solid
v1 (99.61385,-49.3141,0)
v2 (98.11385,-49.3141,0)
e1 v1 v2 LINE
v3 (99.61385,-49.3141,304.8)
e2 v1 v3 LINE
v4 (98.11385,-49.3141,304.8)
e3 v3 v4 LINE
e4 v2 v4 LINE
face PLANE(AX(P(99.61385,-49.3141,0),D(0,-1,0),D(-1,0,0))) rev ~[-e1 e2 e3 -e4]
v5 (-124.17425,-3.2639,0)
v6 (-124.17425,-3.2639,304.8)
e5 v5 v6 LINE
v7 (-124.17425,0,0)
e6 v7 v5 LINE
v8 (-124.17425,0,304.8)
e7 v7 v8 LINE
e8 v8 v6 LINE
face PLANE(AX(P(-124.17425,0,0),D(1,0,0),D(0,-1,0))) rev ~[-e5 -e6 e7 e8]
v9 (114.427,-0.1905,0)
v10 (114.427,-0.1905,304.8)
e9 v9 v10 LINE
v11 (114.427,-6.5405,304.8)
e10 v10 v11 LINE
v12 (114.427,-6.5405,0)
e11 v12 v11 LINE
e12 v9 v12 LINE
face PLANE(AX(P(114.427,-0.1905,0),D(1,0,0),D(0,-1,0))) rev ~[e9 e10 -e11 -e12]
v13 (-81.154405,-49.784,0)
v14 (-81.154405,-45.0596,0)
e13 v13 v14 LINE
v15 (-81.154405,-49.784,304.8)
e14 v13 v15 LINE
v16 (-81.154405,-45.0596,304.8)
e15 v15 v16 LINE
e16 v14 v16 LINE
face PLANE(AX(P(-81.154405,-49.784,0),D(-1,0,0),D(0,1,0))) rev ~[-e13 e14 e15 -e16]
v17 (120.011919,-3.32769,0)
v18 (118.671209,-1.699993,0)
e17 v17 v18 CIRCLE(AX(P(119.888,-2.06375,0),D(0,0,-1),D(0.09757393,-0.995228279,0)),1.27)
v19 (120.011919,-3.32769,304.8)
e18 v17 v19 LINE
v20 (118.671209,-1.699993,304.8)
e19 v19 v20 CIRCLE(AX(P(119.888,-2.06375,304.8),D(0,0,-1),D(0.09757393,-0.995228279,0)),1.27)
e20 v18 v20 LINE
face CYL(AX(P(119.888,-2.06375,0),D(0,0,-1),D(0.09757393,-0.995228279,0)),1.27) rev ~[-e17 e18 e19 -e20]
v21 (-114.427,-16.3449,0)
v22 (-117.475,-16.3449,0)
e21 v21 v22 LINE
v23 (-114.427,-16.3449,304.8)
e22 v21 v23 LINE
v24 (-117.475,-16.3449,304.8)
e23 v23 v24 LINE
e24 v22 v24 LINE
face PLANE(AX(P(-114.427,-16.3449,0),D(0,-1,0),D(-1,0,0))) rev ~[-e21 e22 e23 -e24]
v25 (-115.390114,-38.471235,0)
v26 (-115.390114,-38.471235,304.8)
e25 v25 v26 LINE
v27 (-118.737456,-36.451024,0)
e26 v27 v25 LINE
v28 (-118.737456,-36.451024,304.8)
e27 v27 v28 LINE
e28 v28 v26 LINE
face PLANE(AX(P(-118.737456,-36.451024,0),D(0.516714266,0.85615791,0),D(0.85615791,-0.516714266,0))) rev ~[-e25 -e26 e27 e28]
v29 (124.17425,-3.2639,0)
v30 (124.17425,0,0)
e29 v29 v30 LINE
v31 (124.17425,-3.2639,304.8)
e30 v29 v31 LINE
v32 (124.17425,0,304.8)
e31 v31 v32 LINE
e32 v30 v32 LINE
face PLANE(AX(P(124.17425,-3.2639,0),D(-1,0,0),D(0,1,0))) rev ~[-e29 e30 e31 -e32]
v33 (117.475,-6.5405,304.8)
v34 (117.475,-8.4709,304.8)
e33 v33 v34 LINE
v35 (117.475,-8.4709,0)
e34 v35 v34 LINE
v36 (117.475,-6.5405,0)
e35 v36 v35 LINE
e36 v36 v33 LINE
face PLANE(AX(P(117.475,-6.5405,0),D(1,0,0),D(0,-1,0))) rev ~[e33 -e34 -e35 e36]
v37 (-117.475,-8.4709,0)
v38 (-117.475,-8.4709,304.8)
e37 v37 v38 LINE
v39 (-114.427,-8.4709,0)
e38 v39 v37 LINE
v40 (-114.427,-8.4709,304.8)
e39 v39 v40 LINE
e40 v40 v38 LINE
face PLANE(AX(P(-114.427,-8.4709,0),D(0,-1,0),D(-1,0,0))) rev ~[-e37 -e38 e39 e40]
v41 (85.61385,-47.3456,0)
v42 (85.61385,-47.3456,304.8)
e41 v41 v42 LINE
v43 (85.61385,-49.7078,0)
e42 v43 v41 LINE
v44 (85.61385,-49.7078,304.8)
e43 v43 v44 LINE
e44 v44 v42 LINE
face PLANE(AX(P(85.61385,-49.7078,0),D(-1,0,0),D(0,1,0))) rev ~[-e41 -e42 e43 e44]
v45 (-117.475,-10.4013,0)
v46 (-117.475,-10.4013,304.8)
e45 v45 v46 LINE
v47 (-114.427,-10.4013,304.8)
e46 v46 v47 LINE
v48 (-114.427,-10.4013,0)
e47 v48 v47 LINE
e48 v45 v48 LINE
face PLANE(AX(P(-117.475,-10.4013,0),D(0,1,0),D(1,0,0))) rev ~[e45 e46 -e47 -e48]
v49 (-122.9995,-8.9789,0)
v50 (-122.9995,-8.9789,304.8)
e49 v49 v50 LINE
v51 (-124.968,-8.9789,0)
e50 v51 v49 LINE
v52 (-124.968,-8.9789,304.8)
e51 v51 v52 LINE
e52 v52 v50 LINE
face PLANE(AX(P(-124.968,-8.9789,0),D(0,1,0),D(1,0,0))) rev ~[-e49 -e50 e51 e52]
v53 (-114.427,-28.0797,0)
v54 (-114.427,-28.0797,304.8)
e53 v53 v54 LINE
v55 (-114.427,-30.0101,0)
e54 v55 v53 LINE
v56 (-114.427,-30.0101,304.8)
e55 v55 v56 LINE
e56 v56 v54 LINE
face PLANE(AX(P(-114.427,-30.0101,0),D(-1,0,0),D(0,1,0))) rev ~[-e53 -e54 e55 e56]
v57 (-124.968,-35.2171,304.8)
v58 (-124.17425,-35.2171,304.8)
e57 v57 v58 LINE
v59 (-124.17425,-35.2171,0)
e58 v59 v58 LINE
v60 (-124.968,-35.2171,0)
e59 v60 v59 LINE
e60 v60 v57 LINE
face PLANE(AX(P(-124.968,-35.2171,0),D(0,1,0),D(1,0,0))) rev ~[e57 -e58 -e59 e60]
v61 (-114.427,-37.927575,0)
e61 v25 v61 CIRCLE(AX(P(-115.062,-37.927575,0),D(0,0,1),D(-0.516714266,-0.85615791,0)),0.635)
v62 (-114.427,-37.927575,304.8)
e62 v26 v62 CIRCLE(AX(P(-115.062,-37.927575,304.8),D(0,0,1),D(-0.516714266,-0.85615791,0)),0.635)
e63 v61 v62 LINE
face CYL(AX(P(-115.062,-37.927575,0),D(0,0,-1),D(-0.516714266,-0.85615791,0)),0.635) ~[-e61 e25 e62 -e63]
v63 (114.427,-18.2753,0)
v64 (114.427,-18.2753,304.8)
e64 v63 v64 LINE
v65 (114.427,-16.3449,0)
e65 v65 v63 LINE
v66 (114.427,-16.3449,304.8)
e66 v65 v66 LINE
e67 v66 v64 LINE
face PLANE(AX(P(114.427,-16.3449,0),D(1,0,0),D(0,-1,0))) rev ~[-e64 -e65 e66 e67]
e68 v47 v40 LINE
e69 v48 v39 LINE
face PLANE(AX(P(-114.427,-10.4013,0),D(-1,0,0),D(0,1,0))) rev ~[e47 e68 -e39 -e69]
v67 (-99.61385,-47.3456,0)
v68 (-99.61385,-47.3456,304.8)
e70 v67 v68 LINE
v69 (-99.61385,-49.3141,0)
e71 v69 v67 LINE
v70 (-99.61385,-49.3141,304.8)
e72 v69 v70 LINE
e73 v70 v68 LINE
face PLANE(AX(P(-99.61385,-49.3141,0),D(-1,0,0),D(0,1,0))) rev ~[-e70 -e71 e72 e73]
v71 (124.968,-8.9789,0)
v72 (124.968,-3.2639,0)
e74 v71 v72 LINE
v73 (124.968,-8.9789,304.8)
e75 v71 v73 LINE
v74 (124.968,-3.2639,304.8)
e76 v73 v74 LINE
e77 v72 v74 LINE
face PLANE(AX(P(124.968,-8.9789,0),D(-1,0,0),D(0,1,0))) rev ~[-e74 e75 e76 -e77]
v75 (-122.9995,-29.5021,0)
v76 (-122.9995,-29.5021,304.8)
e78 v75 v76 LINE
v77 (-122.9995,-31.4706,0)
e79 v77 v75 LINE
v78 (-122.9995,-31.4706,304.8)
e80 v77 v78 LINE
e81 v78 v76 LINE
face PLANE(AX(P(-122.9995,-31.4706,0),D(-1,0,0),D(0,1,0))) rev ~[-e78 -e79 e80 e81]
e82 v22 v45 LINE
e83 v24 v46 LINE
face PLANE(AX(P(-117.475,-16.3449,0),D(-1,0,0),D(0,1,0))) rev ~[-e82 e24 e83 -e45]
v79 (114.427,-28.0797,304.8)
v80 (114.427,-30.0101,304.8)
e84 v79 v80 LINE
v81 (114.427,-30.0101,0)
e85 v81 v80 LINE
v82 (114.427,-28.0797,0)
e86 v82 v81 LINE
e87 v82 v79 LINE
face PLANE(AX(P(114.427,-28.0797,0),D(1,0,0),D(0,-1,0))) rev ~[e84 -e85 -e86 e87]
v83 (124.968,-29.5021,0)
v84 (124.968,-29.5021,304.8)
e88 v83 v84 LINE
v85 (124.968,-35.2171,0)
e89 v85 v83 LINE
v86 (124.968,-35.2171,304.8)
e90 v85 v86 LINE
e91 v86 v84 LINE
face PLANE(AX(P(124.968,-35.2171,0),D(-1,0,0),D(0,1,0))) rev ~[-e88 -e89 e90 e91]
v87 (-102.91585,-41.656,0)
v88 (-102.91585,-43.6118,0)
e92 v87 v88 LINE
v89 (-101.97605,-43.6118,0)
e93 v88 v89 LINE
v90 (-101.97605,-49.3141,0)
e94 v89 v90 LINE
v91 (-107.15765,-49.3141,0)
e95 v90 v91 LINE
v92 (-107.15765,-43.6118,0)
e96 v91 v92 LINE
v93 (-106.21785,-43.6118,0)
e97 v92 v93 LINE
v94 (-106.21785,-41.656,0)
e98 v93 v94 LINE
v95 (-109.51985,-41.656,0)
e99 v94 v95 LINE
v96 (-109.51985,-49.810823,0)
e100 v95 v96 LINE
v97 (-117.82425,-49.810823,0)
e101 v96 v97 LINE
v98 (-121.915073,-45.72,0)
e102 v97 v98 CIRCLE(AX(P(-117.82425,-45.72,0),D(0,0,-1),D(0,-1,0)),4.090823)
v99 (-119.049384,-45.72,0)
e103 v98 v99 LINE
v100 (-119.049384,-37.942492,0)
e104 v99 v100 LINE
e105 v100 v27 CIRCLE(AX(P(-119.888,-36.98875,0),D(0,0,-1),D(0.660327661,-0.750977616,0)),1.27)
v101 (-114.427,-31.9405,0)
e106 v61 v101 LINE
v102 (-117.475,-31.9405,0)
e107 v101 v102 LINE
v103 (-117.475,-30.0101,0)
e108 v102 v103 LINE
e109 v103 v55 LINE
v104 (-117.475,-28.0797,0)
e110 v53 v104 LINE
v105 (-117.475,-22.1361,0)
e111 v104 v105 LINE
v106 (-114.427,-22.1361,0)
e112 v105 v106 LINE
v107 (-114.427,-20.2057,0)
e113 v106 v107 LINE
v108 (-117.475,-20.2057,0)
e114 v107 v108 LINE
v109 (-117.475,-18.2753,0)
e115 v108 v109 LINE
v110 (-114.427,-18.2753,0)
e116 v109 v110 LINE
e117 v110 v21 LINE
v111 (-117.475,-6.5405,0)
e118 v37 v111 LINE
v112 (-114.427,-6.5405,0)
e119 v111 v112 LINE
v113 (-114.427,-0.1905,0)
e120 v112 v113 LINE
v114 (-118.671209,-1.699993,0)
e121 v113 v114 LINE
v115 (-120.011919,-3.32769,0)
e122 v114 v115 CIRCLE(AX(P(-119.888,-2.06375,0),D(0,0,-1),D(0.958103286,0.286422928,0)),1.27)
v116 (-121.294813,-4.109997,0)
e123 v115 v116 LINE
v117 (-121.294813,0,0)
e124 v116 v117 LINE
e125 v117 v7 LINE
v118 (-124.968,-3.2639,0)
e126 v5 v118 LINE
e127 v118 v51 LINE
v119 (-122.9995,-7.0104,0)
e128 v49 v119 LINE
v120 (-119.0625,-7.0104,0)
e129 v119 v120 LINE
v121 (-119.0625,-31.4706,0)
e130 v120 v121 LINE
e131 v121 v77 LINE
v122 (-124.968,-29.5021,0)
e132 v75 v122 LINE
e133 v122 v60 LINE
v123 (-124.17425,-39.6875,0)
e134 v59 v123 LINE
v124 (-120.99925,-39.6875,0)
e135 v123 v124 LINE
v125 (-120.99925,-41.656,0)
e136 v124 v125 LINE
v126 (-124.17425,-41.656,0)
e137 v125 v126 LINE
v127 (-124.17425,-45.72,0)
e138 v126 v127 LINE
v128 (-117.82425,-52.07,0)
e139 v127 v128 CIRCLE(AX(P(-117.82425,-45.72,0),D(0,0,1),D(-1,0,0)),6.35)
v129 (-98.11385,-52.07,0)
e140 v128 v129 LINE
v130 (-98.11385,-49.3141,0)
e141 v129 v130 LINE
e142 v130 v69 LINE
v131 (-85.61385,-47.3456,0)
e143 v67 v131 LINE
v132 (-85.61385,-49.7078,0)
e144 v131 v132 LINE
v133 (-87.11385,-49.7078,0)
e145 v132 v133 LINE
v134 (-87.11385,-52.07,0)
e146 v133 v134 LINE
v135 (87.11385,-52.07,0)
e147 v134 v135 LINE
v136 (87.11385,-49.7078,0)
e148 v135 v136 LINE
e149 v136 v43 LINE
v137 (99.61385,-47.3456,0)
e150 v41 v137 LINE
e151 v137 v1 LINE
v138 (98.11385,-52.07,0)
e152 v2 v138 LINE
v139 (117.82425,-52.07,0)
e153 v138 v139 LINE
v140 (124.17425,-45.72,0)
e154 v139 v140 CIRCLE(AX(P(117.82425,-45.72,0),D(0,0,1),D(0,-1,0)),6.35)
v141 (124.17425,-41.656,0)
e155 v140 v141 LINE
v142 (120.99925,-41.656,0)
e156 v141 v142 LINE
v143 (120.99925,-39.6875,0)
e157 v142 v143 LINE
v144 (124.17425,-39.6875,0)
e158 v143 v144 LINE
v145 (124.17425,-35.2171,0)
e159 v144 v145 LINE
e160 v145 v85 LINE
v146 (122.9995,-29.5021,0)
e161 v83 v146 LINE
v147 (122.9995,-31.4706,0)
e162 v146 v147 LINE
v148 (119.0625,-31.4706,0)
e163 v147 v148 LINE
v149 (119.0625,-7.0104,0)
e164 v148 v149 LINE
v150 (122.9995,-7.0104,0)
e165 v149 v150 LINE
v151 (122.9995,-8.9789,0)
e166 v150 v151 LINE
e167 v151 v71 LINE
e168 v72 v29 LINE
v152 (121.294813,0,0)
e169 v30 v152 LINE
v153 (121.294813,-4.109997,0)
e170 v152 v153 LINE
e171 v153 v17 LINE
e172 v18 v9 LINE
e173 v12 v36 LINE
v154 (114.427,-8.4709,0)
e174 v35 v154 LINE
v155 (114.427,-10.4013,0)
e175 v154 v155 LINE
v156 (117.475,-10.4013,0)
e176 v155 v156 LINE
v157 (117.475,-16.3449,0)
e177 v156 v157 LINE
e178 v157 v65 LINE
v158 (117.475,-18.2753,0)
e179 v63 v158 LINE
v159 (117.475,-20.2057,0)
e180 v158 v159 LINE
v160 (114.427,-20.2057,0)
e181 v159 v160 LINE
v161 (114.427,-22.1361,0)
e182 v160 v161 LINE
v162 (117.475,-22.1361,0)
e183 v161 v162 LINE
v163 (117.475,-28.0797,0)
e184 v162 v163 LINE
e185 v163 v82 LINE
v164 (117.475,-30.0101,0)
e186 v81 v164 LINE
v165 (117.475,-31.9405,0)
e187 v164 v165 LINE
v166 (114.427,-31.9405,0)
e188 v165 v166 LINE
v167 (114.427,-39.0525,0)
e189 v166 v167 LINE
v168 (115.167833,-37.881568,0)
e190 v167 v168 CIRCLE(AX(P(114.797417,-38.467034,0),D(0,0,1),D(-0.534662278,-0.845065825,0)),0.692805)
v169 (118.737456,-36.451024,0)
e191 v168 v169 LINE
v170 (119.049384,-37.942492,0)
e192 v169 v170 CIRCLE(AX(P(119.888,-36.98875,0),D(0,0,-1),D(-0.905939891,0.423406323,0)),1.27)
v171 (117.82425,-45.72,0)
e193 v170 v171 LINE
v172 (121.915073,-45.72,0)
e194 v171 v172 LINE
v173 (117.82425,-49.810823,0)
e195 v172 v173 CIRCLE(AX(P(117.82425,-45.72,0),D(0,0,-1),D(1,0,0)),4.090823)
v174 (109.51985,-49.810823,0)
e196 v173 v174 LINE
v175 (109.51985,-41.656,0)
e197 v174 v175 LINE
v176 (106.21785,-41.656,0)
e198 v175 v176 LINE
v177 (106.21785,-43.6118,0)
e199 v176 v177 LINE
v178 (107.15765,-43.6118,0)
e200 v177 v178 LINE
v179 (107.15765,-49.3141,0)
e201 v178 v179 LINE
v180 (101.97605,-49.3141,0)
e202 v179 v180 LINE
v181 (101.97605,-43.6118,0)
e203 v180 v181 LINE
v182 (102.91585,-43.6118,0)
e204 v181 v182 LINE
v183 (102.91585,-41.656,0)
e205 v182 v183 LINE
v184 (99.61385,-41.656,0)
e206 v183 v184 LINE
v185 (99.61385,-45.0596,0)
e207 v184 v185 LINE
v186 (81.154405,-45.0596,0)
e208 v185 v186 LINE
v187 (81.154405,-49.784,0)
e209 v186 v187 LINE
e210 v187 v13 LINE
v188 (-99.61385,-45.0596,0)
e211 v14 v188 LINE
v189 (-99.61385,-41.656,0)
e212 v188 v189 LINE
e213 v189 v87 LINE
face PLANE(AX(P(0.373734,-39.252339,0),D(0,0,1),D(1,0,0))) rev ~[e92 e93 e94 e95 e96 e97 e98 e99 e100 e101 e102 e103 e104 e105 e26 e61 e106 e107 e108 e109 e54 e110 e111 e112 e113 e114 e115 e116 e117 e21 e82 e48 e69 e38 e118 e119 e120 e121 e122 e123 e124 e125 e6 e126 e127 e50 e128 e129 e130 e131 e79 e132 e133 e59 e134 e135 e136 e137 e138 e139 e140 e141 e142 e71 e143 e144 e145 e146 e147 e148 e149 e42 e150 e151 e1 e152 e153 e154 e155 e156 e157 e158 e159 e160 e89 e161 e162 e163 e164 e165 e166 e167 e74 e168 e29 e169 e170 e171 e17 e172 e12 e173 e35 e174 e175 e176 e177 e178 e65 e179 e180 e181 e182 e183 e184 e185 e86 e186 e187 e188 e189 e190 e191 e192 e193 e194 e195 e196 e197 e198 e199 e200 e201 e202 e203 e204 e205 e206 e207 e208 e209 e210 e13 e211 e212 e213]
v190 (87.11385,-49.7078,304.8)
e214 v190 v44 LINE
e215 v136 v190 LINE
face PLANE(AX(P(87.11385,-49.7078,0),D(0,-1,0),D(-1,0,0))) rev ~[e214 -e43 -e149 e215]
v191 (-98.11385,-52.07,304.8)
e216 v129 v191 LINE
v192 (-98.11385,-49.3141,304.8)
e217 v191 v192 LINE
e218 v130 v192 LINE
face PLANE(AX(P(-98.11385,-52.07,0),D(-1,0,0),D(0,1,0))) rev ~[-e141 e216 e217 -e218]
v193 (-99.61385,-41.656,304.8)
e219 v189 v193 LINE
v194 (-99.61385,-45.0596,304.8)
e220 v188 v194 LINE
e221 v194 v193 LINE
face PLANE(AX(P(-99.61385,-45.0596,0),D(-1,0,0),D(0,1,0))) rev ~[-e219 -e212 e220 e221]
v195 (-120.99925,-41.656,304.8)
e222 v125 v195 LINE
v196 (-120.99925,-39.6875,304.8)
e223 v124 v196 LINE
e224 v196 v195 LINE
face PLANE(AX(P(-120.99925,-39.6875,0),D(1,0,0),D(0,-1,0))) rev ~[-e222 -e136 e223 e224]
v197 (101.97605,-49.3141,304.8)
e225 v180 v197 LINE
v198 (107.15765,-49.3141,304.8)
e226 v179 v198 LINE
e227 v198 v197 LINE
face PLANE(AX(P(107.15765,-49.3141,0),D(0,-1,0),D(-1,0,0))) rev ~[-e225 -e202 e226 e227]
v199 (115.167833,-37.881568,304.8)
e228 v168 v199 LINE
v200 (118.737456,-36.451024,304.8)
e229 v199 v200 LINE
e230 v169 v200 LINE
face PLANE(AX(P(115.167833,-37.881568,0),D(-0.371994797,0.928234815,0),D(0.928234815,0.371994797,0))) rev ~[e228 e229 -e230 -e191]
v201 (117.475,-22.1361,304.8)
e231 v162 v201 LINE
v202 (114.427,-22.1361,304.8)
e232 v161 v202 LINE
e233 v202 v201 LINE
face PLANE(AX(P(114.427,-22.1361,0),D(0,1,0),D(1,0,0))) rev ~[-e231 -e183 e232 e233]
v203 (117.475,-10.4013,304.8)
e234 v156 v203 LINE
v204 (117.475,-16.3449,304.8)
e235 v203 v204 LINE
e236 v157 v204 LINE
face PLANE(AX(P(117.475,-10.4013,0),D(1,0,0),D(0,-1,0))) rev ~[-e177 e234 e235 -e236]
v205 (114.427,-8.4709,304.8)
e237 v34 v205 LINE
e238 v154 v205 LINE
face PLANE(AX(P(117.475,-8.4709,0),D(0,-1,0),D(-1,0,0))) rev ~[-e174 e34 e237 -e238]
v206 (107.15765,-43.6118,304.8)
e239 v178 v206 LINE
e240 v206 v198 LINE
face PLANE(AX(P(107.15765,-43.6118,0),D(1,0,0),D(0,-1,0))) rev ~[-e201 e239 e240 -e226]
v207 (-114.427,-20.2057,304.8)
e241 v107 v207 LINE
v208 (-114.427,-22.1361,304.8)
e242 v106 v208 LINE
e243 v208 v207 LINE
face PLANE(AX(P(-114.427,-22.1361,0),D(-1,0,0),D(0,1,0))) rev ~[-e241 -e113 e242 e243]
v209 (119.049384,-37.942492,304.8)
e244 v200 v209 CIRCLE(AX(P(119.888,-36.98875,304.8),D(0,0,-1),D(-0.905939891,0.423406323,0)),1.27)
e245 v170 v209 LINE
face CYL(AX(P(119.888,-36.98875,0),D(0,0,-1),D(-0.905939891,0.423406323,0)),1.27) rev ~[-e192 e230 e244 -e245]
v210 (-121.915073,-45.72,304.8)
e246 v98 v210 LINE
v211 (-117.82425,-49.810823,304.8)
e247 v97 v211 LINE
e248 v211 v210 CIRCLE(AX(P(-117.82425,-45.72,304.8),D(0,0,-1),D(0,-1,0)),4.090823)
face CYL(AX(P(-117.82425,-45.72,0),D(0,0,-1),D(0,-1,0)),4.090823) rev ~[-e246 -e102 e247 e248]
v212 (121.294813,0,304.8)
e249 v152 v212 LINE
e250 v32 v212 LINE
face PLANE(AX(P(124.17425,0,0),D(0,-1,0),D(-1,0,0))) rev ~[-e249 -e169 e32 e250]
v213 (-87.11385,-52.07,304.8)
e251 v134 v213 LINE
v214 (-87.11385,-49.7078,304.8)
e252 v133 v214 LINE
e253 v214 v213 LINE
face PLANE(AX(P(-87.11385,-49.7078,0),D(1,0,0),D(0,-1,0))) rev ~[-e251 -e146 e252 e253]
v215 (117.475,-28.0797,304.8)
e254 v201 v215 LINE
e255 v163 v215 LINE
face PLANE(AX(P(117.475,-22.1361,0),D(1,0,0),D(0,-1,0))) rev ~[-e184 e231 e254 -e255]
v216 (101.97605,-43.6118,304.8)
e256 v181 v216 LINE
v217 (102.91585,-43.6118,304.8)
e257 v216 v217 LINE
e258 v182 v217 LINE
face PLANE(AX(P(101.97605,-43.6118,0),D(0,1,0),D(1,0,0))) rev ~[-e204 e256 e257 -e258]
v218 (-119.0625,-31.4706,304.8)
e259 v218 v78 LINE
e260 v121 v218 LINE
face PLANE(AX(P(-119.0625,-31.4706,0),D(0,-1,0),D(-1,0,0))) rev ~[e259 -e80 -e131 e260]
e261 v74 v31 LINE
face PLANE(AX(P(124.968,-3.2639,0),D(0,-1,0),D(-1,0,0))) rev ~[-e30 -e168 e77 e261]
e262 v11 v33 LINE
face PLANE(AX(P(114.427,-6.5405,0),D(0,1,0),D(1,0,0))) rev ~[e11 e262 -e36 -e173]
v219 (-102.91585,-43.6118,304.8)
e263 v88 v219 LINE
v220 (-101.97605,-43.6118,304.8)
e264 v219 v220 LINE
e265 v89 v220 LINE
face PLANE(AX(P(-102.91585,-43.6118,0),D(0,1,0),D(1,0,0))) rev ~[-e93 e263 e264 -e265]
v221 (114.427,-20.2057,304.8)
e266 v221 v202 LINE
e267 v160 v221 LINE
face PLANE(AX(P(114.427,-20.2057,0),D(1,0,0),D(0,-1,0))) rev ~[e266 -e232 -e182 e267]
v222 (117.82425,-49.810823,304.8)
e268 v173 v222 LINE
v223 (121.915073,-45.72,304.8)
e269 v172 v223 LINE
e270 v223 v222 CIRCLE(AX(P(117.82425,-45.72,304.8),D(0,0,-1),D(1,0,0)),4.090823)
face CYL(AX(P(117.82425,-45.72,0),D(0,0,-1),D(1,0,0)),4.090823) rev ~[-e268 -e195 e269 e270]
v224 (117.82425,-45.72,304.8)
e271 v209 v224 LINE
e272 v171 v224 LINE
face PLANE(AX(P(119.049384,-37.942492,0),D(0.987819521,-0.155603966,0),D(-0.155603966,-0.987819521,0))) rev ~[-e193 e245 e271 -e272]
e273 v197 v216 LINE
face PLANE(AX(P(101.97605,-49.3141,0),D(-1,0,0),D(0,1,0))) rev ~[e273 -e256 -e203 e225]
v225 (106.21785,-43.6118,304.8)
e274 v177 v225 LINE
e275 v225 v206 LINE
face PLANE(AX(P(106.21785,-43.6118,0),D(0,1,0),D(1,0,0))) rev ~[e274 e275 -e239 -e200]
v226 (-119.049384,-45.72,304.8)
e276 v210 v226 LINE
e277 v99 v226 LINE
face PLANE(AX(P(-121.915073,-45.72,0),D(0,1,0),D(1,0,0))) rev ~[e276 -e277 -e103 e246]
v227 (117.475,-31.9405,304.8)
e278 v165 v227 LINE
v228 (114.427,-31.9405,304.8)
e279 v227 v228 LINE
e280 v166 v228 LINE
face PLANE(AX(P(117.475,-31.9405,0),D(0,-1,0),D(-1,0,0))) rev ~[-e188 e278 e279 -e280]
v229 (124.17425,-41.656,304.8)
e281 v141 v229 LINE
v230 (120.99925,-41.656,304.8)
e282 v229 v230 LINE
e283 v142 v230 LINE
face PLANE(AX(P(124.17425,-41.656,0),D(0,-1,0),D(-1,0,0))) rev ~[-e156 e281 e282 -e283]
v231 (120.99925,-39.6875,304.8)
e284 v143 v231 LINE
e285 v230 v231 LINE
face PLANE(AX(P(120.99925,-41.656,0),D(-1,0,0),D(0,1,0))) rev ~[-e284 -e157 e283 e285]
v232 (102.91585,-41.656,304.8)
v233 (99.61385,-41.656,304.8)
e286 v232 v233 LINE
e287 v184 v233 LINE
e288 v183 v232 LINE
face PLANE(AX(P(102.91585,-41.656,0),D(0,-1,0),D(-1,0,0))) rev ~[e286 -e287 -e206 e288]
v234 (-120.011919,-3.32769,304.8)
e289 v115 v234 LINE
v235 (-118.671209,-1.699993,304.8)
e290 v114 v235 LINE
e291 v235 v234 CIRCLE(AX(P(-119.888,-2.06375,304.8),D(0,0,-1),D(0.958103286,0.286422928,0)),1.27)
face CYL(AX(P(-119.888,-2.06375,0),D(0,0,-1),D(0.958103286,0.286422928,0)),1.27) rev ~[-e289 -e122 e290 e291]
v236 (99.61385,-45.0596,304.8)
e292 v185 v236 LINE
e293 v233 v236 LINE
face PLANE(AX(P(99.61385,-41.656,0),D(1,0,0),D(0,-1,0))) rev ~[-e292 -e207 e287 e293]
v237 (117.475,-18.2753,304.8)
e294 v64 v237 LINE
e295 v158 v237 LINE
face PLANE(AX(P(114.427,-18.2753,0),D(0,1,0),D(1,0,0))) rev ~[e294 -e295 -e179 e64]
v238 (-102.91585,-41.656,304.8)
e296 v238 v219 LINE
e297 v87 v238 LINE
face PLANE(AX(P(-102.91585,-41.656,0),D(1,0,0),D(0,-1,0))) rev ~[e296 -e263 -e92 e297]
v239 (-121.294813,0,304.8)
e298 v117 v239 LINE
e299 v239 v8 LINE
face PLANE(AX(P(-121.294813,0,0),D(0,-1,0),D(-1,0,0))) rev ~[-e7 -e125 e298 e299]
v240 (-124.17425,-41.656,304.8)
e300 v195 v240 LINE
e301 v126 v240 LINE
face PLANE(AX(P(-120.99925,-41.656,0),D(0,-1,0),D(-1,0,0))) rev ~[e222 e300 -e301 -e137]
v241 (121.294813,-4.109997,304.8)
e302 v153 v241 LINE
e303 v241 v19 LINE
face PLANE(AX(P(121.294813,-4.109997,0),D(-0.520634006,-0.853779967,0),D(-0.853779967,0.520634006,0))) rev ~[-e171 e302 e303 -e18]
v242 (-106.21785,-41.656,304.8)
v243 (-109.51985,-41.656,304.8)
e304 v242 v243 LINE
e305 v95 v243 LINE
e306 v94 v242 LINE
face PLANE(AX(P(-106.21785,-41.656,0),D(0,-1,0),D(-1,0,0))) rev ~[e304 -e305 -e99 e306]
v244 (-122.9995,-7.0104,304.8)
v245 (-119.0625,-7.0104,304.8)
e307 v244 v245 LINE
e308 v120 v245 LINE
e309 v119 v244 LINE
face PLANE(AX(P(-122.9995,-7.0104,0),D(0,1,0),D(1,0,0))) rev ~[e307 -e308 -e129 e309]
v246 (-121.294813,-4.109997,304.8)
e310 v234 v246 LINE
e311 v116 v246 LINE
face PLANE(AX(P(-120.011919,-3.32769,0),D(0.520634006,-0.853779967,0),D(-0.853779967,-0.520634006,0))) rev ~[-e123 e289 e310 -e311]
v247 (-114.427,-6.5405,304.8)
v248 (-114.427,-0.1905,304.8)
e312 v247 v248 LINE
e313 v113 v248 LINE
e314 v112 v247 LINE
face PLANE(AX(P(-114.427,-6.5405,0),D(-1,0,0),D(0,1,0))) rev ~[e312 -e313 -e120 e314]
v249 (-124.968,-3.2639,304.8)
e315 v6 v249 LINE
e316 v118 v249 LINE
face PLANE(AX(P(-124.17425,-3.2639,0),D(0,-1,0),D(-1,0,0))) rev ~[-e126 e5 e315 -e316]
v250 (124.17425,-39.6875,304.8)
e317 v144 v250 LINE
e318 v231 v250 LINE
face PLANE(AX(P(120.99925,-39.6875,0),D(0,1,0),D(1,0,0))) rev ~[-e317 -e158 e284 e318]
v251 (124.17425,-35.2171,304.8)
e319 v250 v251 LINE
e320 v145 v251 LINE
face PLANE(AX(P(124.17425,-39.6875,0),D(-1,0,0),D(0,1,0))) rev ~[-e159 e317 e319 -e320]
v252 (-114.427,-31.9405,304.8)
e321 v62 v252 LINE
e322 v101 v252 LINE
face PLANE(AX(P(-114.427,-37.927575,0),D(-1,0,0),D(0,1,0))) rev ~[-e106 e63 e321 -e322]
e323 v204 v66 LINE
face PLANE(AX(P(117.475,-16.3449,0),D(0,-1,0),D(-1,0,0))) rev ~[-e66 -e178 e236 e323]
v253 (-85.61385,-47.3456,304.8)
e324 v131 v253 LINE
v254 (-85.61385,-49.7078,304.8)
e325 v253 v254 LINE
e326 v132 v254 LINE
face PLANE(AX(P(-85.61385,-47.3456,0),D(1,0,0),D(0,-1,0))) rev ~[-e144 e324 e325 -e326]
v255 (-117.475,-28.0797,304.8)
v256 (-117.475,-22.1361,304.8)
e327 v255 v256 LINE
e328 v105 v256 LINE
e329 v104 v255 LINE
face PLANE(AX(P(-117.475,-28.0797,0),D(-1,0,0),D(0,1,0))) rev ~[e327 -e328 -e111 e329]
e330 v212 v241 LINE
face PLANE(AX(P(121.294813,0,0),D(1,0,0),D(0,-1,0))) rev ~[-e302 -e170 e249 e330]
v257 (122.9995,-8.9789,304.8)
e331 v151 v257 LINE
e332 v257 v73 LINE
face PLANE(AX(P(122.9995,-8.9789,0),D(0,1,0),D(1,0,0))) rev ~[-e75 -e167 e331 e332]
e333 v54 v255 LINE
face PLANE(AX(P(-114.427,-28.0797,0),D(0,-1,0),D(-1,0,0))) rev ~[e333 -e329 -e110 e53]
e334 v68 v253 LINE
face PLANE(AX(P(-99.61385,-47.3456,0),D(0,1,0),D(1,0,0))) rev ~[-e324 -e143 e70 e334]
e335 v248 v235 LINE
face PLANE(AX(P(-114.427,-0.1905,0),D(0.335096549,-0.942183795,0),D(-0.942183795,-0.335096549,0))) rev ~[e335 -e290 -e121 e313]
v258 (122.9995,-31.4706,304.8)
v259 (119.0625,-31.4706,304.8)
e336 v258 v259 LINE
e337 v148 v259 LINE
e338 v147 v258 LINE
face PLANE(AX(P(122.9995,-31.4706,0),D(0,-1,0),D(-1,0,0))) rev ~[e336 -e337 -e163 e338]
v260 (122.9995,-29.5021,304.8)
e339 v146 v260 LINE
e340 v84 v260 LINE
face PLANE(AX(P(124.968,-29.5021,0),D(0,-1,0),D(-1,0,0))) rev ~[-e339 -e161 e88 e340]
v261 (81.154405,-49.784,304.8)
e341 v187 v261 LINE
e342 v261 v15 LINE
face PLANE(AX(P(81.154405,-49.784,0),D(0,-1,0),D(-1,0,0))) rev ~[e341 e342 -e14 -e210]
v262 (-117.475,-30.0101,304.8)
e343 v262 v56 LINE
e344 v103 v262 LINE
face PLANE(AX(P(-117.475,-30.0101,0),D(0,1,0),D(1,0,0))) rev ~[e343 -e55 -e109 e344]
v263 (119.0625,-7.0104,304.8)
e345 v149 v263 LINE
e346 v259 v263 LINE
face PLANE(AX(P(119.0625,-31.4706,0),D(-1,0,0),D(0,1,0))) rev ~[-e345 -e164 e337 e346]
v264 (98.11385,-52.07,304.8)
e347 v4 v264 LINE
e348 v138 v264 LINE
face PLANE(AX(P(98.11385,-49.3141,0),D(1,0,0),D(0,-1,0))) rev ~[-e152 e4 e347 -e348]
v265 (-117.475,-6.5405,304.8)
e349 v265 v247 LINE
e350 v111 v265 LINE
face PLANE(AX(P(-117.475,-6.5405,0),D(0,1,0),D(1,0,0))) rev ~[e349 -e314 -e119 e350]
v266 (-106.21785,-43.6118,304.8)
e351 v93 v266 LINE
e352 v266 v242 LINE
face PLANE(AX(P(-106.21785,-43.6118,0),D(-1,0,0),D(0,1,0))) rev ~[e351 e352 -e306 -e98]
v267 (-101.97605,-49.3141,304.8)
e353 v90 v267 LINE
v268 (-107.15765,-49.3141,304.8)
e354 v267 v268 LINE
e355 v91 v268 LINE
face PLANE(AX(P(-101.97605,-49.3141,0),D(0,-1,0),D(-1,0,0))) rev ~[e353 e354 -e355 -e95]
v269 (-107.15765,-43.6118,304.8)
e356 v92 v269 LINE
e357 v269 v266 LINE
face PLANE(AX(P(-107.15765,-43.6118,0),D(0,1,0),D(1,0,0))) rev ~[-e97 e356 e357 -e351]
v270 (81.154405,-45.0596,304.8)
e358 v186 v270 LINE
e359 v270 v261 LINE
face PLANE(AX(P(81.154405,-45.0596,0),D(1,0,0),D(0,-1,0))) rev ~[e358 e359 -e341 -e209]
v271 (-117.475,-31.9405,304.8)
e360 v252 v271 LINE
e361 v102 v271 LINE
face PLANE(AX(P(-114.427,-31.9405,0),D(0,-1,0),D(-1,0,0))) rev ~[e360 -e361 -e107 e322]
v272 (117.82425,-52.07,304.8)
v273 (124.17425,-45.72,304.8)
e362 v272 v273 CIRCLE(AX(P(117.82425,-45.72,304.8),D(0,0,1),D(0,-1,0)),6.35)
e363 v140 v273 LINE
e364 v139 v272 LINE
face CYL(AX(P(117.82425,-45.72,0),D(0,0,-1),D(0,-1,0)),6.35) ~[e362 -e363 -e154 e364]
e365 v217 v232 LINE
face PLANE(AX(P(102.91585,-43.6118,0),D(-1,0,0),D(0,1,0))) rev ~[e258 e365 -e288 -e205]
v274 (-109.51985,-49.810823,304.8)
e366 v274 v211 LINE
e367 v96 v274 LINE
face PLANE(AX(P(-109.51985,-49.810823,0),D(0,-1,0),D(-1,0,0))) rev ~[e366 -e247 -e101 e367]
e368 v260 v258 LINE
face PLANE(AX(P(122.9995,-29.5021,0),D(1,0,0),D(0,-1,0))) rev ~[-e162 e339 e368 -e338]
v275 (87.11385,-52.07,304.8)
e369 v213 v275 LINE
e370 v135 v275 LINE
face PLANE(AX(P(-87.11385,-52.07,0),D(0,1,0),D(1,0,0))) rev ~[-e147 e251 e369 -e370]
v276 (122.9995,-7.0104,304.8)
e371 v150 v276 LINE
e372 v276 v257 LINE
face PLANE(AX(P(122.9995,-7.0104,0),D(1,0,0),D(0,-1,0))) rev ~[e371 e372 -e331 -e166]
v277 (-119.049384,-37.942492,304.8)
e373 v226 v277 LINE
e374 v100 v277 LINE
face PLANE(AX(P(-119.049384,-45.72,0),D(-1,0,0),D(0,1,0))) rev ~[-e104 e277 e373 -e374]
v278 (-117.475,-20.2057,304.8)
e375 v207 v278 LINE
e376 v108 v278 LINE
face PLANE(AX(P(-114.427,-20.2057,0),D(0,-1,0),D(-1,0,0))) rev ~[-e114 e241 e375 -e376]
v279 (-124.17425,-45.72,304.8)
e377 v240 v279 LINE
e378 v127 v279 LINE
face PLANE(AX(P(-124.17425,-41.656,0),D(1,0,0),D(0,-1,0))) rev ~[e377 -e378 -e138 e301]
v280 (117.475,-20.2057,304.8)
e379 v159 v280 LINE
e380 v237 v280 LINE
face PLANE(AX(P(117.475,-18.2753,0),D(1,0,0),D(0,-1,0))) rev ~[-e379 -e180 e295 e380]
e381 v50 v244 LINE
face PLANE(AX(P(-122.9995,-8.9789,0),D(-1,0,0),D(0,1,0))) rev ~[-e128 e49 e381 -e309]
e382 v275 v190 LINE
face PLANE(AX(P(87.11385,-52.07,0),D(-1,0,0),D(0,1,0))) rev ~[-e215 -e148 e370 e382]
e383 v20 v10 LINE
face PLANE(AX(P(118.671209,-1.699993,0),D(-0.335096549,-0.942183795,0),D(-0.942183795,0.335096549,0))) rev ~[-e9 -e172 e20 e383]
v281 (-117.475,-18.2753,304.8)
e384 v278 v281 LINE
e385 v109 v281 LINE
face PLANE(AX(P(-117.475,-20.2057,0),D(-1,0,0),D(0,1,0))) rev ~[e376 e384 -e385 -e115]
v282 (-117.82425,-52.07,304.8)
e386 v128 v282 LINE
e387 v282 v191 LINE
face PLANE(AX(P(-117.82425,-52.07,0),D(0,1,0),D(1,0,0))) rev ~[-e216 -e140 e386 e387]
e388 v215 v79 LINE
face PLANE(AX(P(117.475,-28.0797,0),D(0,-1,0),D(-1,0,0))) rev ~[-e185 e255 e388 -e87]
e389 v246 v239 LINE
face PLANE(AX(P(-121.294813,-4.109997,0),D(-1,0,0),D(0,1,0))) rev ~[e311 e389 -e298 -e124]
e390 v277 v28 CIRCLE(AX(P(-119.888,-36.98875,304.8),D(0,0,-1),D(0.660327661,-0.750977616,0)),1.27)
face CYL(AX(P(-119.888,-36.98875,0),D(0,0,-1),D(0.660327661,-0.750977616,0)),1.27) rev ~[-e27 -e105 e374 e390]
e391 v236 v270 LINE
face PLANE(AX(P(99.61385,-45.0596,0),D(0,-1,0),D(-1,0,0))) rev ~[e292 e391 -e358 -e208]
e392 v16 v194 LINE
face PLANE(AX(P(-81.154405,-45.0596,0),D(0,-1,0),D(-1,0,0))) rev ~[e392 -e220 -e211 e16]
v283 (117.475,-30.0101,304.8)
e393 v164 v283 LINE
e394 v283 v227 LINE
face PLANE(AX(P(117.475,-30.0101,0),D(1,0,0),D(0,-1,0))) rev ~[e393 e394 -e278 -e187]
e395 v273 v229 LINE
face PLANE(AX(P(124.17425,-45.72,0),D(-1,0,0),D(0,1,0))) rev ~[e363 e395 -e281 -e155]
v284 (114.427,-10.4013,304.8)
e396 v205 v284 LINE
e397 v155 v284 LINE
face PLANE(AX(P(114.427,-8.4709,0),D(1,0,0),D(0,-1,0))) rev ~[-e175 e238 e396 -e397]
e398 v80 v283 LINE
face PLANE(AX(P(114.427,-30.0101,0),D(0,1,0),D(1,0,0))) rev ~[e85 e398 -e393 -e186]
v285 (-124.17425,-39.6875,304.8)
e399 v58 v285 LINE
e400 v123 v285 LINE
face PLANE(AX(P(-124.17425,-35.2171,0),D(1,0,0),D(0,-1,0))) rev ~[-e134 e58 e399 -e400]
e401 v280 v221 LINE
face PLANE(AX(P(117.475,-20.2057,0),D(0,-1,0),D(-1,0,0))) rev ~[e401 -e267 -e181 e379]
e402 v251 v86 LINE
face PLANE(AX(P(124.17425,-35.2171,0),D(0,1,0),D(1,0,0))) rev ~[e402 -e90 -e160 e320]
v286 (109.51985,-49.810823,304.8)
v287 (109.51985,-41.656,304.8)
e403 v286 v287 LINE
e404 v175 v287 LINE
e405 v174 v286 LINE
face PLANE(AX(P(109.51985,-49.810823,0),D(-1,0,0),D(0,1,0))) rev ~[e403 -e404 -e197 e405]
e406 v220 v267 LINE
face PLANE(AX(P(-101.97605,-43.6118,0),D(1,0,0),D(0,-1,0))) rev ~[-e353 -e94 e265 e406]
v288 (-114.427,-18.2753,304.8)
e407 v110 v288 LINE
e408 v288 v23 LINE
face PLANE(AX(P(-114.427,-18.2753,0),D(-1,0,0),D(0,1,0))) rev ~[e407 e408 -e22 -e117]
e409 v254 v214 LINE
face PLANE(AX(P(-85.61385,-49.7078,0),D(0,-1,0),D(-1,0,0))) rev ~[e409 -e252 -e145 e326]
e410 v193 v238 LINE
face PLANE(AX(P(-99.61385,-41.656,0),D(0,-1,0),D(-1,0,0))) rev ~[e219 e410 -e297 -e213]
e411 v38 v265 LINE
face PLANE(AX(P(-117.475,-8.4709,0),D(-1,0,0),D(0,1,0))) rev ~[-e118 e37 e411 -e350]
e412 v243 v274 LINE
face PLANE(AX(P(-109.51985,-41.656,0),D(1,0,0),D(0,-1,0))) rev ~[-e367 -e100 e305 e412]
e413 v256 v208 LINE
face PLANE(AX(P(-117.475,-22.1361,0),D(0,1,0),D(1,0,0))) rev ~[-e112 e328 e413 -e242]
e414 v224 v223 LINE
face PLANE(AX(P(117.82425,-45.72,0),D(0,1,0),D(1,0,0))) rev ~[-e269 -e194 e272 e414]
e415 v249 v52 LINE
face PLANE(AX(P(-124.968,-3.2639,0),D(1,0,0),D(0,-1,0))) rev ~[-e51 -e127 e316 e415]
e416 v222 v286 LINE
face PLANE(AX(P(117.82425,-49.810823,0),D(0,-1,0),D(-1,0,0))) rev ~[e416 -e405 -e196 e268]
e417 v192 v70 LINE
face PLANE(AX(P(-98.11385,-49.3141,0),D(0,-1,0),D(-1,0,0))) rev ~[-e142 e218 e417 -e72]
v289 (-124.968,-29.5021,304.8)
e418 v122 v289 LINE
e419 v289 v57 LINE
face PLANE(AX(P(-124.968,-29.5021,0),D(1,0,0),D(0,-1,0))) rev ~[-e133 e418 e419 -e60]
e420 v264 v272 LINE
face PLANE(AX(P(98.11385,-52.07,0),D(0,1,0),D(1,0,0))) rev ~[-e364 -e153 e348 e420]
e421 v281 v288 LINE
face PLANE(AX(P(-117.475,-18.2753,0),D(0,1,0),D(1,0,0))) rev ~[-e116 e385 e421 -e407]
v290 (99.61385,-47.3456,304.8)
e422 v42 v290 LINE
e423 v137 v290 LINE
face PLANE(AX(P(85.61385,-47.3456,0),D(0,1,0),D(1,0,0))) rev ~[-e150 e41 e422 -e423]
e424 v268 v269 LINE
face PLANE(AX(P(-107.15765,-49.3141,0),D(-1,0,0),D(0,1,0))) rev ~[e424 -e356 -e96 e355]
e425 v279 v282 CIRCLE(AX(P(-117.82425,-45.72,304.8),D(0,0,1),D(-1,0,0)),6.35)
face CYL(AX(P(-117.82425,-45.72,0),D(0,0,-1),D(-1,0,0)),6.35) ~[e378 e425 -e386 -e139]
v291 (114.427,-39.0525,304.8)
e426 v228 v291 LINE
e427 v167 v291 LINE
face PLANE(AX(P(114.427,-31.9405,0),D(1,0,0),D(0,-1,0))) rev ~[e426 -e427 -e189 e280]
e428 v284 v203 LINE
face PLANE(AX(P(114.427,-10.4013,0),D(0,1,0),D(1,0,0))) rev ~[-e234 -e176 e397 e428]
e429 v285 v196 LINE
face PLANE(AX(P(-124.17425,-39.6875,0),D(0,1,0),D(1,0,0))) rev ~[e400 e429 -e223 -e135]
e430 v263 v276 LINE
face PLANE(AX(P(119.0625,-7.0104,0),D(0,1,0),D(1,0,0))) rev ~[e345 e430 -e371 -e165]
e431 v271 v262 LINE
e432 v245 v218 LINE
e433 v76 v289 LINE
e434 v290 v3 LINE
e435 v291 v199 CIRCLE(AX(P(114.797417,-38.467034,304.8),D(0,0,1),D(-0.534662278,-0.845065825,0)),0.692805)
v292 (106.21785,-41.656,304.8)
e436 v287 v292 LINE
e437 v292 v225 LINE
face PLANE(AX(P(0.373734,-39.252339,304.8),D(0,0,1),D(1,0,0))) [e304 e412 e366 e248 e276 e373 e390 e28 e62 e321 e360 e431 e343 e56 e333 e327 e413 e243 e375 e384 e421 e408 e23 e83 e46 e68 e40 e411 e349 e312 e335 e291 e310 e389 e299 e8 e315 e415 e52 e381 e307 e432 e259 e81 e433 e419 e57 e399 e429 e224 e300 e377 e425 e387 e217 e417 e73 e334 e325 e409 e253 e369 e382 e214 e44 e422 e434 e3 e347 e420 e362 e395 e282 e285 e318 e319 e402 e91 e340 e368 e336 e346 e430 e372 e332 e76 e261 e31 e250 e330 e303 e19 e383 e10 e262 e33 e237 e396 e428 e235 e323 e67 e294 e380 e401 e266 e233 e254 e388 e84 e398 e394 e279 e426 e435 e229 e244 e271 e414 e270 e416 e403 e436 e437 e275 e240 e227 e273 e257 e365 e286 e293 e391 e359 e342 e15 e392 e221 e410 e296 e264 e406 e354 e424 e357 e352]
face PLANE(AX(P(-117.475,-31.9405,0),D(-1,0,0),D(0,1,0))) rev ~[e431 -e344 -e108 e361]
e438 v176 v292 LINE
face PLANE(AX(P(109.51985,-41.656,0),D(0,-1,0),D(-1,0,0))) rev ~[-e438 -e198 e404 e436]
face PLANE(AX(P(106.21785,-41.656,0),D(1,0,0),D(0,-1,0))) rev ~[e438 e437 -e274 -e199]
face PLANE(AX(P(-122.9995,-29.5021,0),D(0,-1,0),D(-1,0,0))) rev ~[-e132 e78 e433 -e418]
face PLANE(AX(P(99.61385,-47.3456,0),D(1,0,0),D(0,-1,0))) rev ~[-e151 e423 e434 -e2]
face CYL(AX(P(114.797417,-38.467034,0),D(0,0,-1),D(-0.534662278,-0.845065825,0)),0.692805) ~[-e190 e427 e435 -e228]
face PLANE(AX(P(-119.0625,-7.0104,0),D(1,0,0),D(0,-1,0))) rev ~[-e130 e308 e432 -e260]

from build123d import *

# Parameters (mm, degrees)
MAINBODY_DEPTH = 304.8


with BuildPart() as part:
    # Sketch2 → MainBody (new body)
    with BuildSketch(Plane.XY):
        with BuildLine():
            Line((-87.11385, -52.07), (87.11385, -52.07))
            Line((87.11385, -52.07), (87.11385, -49.7078))
            Line((87.11385, -49.7078), (85.61385, -49.7078))
            Line((85.61385, -49.7078), (85.61385, -47.3456))
            Line((85.61385, -47.3456), (99.61385, -47.3456))
            Line((99.61385, -47.3456), (99.61385, -49.3141))
            Line((99.61385, -49.3141), (98.11385, -49.3141))
            Line((98.11385, -49.3141), (98.11385, -52.07))
            Line((98.11385, -52.07), (117.82425, -52.07))
            ThreePointArc((117.82425, -52.07), (122.314378061, -50.210128061), (124.17425, -45.72))
            Line((124.17425, -45.72), (124.17425, -41.656))
            Line((124.17425, -41.656), (120.99925, -41.656))
            Line((120.99925, -41.656), (120.99925, -39.6875))
            Line((120.99925, -39.6875), (124.17425, -39.6875))
            Line((124.17425, -39.6875), (124.17425, -35.2171))
            Line((124.17425, -35.2171), (124.968, -35.2171))
            Line((124.968, -35.2171), (124.968, -29.5021))
            Line((124.968, -29.5021), (122.9995, -29.5021))
            Line((122.9995, -29.5021), (122.9995, -31.4706))
            Line((122.9995, -31.4706), (119.0625, -31.4706))
            Line((119.0625, -31.4706), (119.0625, -7.0104))
            Line((119.0625, -7.0104), (122.9995, -7.0104))
            Line((122.9995, -7.0104), (122.9995, -8.9789))
            Line((122.9995, -8.9789), (124.968, -8.9789))
            Line((124.968, -8.9789), (124.968, -3.2639))
            Line((124.968, -3.2639), (124.17425, -3.2639))
            Line((124.17425, -3.2639), (124.17425, 0))
            Line((124.17425, 0), (121.29481323, 0))
            Line((121.29481323, 0), (121.29481323, -4.109997352))
            Line((121.29481323, -4.109997352), (120.011918892, -3.327689915))
            ThreePointArc((120.011918892, -3.327689915), (118.907723578, -2.871189246), (118.671208827, -1.699992881))
            Line((118.671208827, -1.699992881), (114.427, -0.1905))
            Line((114.427, -0.1905), (114.427, -6.5405))
            Line((114.427, -6.5405), (117.475, -6.5405))
            Line((117.475, -6.5405), (117.475, -8.4709))
            Line((117.475, -8.4709), (114.427, -8.4709))
            Line((114.427, -8.4709), (114.427, -10.4013))
            Line((114.427, -10.4013), (117.475, -10.4013))
            Line((117.475, -10.4013), (117.475, -16.3449))
            Line((117.475, -16.3449), (114.427, -16.3449))
            Line((114.427, -16.3449), (114.427, -18.2753))
            Line((114.427, -18.2753), (117.475, -18.2753))
            Line((117.475, -18.2753), (117.475, -20.2057))
            Line((117.475, -20.2057), (114.427, -20.2057))
            Line((114.427, -20.2057), (114.427, -22.1361))
            Line((114.427, -22.1361), (117.475, -22.1361))
            Line((117.475, -22.1361), (117.475, -28.0797))
            Line((117.475, -28.0797), (114.427, -28.0797))
            Line((114.427, -28.0797), (114.427, -30.0101))
            Line((114.427, -30.0101), (117.475, -30.0101))
            Line((117.475, -30.0101), (117.475, -31.9405))
            Line((117.475, -31.9405), (114.427, -31.9405))
            Line((114.427, -31.9405), (114.427, -39.0525))
            ThreePointArc((114.427, -39.0525), (115.382882445, -38.837450889), (115.167833333, -37.881568444))
            Line((115.167833333, -37.881568444), (118.737456339, -36.45102397))
            ThreePointArc((118.737456339, -36.45102397), (121.131104208, -36.728765521), (119.049383871, -37.942491573))
            Line((119.049383871, -37.942491573), (117.82425, -45.72))
            Line((117.82425, -45.72), (121.915072727, -45.72))
            ThreePointArc((121.915072727, -45.72), (120.716898491, -48.612648491), (117.82425, -49.810822727))
            Line((117.82425, -49.810822727), (109.51985, -49.810822727))
            Line((109.51985, -49.810822727), (109.51985, -41.656))
            Line((109.51985, -41.656), (106.21785, -41.656))
            Line((106.21785, -41.656), (106.21785, -43.6118))
            Line((106.21785, -43.6118), (107.15765, -43.6118))
            Line((107.15765, -43.6118), (107.15765, -49.3141))
            Line((107.15765, -49.3141), (101.97605, -49.3141))
            Line((101.97605, -49.3141), (101.97605, -43.6118))
            Line((101.97605, -43.6118), (102.91585, -43.6118))
            Line((102.91585, -43.6118), (102.91585, -41.656))
            Line((102.91585, -41.656), (99.61385, -41.656))
            Line((99.61385, -41.656), (99.61385, -45.0596))
            Line((99.61385, -45.0596), (81.154405407, -45.0596))
            Line((81.154405407, -45.0596), (81.154405407, -49.784))
            Line((81.154405407, -49.784), (-81.154405407, -49.784))
            Line((-81.154405407, -49.784), (-81.154405407, -45.0596))
            Line((-81.154405407, -45.0596), (-99.61385, -45.0596))
            Line((-99.61385, -45.0596), (-99.61385, -41.656))
            Line((-99.61385, -41.656), (-102.91585, -41.656))
            Line((-102.91585, -41.656), (-102.91585, -43.6118))
            Line((-102.91585, -43.6118), (-101.97605, -43.6118))
            Line((-101.97605, -43.6118), (-101.97605, -49.3141))
            Line((-101.97605, -49.3141), (-107.15765, -49.3141))
            Line((-107.15765, -49.3141), (-107.15765, -43.6118))
            Line((-107.15765, -43.6118), (-106.21785, -43.6118))
            Line((-106.21785, -43.6118), (-106.21785, -41.656))
            Line((-106.21785, -41.656), (-109.51985, -41.656))
            Line((-109.51985, -41.656), (-109.51985, -49.810822727))
            Line((-109.51985, -49.810822727), (-117.82425, -49.810822727))
            ThreePointArc((-117.82425, -49.810822727), (-120.716898491, -48.612648491), (-121.915072727, -45.72))
            Line((-121.915072727, -45.72), (-119.049383871, -45.72))
            Line((-119.049383871, -45.72), (-119.049383871, -37.942491573))
            ThreePointArc((-119.049383871, -37.942491573), (-121.131104208, -36.728765521), (-118.737456339, -36.45102397))
            Line((-118.737456339, -36.45102397), (-115.390113559, -38.471235131))
            ThreePointArc((-115.390113559, -38.471235131), (-114.749851886, -38.480556372), (-114.427, -37.927574858))
            Line((-114.427, -37.927574858), (-114.427, -31.9405))
            Line((-114.427, -31.9405), (-117.475, -31.9405))
            Line((-117.475, -31.9405), (-117.475, -30.0101))
            Line((-117.475, -30.0101), (-114.427, -30.0101))
            Line((-114.427, -30.0101), (-114.427, -28.0797))
            Line((-114.427, -28.0797), (-117.475, -28.0797))
            Line((-117.475, -28.0797), (-117.475, -22.1361))
            Line((-117.475, -22.1361), (-114.427, -22.1361))
            Line((-114.427, -22.1361), (-114.427, -20.2057))
            Line((-114.427, -20.2057), (-117.475, -20.2057))
            Line((-117.475, -20.2057), (-117.475, -18.2753))
            Line((-117.475, -18.2753), (-114.427, -18.2753))
            Line((-114.427, -18.2753), (-114.427, -16.3449))
            Line((-114.427, -16.3449), (-117.475, -16.3449))
            Line((-117.475, -16.3449), (-117.475, -10.4013))
            Line((-117.475, -10.4013), (-114.427, -10.4013))
            Line((-114.427, -10.4013), (-114.427, -8.4709))
            Line((-114.427, -8.4709), (-117.475, -8.4709))
            Line((-117.475, -8.4709), (-117.475, -6.5405))
            Line((-117.475, -6.5405), (-114.427, -6.5405))
            Line((-114.427, -6.5405), (-114.427, -0.1905))
            Line((-114.427, -0.1905), (-118.671208827, -1.699992881))
            ThreePointArc((-118.671208827, -1.699992881), (-118.907723578, -2.871189246), (-120.011918892, -3.327689915))
            Line((-120.011918892, -3.327689915), (-121.29481323, -4.109997352))
            Line((-121.29481323, -4.109997352), (-121.29481323, 0))
            Line((-121.29481323, 0), (-124.17425, 0))
            Line((-124.17425, 0), (-124.17425, -3.2639))
            Line((-124.17425, -3.2639), (-124.968, -3.2639))
            Line((-124.968, -3.2639), (-124.968, -8.9789))
            Line((-124.968, -8.9789), (-122.9995, -8.9789))
            Line((-122.9995, -8.9789), (-122.9995, -7.0104))
            Line((-122.9995, -7.0104), (-119.0625, -7.0104))
            Line((-119.0625, -7.0104), (-119.0625, -31.4706))
            Line((-119.0625, -31.4706), (-122.9995, -31.4706))
            Line((-122.9995, -31.4706), (-122.9995, -29.5021))
            Line((-122.9995, -29.5021), (-124.968, -29.5021))
            Line((-124.968, -29.5021), (-124.968, -35.2171))
            Line((-124.968, -35.2171), (-124.17425, -35.2171))
            Line((-124.17425, -35.2171), (-124.17425, -39.6875))
            Line((-124.17425, -39.6875), (-120.99925, -39.6875))
            Line((-120.99925, -39.6875), (-120.99925, -41.656))
            Line((-120.99925, -41.656), (-124.17425, -41.656))
            Line((-124.17425, -41.656), (-124.17425, -45.72))
            ThreePointArc((-124.17425, -45.72), (-122.314378061, -50.210128061), (-117.82425, -52.07))
            Line((-117.82425, -52.07), (-98.11385, -52.07))
            Line((-98.11385, -52.07), (-98.11385, -49.3141))
            Line((-98.11385, -49.3141), (-99.61385, -49.3141))
            Line((-99.61385, -49.3141), (-99.61385, -47.3456))
            Line((-99.61385, -47.3456), (-85.61385, -47.3456))
            Line((-85.61385, -47.3456), (-85.61385, -49.7078))
            Line((-85.61385, -49.7078), (-87.11385, -49.7078))
            Line((-87.11385, -49.7078), (-87.11385, -52.07))
        make_face()
    extrude(amount=MAINBODY_DEPTH)


solid = part.part
